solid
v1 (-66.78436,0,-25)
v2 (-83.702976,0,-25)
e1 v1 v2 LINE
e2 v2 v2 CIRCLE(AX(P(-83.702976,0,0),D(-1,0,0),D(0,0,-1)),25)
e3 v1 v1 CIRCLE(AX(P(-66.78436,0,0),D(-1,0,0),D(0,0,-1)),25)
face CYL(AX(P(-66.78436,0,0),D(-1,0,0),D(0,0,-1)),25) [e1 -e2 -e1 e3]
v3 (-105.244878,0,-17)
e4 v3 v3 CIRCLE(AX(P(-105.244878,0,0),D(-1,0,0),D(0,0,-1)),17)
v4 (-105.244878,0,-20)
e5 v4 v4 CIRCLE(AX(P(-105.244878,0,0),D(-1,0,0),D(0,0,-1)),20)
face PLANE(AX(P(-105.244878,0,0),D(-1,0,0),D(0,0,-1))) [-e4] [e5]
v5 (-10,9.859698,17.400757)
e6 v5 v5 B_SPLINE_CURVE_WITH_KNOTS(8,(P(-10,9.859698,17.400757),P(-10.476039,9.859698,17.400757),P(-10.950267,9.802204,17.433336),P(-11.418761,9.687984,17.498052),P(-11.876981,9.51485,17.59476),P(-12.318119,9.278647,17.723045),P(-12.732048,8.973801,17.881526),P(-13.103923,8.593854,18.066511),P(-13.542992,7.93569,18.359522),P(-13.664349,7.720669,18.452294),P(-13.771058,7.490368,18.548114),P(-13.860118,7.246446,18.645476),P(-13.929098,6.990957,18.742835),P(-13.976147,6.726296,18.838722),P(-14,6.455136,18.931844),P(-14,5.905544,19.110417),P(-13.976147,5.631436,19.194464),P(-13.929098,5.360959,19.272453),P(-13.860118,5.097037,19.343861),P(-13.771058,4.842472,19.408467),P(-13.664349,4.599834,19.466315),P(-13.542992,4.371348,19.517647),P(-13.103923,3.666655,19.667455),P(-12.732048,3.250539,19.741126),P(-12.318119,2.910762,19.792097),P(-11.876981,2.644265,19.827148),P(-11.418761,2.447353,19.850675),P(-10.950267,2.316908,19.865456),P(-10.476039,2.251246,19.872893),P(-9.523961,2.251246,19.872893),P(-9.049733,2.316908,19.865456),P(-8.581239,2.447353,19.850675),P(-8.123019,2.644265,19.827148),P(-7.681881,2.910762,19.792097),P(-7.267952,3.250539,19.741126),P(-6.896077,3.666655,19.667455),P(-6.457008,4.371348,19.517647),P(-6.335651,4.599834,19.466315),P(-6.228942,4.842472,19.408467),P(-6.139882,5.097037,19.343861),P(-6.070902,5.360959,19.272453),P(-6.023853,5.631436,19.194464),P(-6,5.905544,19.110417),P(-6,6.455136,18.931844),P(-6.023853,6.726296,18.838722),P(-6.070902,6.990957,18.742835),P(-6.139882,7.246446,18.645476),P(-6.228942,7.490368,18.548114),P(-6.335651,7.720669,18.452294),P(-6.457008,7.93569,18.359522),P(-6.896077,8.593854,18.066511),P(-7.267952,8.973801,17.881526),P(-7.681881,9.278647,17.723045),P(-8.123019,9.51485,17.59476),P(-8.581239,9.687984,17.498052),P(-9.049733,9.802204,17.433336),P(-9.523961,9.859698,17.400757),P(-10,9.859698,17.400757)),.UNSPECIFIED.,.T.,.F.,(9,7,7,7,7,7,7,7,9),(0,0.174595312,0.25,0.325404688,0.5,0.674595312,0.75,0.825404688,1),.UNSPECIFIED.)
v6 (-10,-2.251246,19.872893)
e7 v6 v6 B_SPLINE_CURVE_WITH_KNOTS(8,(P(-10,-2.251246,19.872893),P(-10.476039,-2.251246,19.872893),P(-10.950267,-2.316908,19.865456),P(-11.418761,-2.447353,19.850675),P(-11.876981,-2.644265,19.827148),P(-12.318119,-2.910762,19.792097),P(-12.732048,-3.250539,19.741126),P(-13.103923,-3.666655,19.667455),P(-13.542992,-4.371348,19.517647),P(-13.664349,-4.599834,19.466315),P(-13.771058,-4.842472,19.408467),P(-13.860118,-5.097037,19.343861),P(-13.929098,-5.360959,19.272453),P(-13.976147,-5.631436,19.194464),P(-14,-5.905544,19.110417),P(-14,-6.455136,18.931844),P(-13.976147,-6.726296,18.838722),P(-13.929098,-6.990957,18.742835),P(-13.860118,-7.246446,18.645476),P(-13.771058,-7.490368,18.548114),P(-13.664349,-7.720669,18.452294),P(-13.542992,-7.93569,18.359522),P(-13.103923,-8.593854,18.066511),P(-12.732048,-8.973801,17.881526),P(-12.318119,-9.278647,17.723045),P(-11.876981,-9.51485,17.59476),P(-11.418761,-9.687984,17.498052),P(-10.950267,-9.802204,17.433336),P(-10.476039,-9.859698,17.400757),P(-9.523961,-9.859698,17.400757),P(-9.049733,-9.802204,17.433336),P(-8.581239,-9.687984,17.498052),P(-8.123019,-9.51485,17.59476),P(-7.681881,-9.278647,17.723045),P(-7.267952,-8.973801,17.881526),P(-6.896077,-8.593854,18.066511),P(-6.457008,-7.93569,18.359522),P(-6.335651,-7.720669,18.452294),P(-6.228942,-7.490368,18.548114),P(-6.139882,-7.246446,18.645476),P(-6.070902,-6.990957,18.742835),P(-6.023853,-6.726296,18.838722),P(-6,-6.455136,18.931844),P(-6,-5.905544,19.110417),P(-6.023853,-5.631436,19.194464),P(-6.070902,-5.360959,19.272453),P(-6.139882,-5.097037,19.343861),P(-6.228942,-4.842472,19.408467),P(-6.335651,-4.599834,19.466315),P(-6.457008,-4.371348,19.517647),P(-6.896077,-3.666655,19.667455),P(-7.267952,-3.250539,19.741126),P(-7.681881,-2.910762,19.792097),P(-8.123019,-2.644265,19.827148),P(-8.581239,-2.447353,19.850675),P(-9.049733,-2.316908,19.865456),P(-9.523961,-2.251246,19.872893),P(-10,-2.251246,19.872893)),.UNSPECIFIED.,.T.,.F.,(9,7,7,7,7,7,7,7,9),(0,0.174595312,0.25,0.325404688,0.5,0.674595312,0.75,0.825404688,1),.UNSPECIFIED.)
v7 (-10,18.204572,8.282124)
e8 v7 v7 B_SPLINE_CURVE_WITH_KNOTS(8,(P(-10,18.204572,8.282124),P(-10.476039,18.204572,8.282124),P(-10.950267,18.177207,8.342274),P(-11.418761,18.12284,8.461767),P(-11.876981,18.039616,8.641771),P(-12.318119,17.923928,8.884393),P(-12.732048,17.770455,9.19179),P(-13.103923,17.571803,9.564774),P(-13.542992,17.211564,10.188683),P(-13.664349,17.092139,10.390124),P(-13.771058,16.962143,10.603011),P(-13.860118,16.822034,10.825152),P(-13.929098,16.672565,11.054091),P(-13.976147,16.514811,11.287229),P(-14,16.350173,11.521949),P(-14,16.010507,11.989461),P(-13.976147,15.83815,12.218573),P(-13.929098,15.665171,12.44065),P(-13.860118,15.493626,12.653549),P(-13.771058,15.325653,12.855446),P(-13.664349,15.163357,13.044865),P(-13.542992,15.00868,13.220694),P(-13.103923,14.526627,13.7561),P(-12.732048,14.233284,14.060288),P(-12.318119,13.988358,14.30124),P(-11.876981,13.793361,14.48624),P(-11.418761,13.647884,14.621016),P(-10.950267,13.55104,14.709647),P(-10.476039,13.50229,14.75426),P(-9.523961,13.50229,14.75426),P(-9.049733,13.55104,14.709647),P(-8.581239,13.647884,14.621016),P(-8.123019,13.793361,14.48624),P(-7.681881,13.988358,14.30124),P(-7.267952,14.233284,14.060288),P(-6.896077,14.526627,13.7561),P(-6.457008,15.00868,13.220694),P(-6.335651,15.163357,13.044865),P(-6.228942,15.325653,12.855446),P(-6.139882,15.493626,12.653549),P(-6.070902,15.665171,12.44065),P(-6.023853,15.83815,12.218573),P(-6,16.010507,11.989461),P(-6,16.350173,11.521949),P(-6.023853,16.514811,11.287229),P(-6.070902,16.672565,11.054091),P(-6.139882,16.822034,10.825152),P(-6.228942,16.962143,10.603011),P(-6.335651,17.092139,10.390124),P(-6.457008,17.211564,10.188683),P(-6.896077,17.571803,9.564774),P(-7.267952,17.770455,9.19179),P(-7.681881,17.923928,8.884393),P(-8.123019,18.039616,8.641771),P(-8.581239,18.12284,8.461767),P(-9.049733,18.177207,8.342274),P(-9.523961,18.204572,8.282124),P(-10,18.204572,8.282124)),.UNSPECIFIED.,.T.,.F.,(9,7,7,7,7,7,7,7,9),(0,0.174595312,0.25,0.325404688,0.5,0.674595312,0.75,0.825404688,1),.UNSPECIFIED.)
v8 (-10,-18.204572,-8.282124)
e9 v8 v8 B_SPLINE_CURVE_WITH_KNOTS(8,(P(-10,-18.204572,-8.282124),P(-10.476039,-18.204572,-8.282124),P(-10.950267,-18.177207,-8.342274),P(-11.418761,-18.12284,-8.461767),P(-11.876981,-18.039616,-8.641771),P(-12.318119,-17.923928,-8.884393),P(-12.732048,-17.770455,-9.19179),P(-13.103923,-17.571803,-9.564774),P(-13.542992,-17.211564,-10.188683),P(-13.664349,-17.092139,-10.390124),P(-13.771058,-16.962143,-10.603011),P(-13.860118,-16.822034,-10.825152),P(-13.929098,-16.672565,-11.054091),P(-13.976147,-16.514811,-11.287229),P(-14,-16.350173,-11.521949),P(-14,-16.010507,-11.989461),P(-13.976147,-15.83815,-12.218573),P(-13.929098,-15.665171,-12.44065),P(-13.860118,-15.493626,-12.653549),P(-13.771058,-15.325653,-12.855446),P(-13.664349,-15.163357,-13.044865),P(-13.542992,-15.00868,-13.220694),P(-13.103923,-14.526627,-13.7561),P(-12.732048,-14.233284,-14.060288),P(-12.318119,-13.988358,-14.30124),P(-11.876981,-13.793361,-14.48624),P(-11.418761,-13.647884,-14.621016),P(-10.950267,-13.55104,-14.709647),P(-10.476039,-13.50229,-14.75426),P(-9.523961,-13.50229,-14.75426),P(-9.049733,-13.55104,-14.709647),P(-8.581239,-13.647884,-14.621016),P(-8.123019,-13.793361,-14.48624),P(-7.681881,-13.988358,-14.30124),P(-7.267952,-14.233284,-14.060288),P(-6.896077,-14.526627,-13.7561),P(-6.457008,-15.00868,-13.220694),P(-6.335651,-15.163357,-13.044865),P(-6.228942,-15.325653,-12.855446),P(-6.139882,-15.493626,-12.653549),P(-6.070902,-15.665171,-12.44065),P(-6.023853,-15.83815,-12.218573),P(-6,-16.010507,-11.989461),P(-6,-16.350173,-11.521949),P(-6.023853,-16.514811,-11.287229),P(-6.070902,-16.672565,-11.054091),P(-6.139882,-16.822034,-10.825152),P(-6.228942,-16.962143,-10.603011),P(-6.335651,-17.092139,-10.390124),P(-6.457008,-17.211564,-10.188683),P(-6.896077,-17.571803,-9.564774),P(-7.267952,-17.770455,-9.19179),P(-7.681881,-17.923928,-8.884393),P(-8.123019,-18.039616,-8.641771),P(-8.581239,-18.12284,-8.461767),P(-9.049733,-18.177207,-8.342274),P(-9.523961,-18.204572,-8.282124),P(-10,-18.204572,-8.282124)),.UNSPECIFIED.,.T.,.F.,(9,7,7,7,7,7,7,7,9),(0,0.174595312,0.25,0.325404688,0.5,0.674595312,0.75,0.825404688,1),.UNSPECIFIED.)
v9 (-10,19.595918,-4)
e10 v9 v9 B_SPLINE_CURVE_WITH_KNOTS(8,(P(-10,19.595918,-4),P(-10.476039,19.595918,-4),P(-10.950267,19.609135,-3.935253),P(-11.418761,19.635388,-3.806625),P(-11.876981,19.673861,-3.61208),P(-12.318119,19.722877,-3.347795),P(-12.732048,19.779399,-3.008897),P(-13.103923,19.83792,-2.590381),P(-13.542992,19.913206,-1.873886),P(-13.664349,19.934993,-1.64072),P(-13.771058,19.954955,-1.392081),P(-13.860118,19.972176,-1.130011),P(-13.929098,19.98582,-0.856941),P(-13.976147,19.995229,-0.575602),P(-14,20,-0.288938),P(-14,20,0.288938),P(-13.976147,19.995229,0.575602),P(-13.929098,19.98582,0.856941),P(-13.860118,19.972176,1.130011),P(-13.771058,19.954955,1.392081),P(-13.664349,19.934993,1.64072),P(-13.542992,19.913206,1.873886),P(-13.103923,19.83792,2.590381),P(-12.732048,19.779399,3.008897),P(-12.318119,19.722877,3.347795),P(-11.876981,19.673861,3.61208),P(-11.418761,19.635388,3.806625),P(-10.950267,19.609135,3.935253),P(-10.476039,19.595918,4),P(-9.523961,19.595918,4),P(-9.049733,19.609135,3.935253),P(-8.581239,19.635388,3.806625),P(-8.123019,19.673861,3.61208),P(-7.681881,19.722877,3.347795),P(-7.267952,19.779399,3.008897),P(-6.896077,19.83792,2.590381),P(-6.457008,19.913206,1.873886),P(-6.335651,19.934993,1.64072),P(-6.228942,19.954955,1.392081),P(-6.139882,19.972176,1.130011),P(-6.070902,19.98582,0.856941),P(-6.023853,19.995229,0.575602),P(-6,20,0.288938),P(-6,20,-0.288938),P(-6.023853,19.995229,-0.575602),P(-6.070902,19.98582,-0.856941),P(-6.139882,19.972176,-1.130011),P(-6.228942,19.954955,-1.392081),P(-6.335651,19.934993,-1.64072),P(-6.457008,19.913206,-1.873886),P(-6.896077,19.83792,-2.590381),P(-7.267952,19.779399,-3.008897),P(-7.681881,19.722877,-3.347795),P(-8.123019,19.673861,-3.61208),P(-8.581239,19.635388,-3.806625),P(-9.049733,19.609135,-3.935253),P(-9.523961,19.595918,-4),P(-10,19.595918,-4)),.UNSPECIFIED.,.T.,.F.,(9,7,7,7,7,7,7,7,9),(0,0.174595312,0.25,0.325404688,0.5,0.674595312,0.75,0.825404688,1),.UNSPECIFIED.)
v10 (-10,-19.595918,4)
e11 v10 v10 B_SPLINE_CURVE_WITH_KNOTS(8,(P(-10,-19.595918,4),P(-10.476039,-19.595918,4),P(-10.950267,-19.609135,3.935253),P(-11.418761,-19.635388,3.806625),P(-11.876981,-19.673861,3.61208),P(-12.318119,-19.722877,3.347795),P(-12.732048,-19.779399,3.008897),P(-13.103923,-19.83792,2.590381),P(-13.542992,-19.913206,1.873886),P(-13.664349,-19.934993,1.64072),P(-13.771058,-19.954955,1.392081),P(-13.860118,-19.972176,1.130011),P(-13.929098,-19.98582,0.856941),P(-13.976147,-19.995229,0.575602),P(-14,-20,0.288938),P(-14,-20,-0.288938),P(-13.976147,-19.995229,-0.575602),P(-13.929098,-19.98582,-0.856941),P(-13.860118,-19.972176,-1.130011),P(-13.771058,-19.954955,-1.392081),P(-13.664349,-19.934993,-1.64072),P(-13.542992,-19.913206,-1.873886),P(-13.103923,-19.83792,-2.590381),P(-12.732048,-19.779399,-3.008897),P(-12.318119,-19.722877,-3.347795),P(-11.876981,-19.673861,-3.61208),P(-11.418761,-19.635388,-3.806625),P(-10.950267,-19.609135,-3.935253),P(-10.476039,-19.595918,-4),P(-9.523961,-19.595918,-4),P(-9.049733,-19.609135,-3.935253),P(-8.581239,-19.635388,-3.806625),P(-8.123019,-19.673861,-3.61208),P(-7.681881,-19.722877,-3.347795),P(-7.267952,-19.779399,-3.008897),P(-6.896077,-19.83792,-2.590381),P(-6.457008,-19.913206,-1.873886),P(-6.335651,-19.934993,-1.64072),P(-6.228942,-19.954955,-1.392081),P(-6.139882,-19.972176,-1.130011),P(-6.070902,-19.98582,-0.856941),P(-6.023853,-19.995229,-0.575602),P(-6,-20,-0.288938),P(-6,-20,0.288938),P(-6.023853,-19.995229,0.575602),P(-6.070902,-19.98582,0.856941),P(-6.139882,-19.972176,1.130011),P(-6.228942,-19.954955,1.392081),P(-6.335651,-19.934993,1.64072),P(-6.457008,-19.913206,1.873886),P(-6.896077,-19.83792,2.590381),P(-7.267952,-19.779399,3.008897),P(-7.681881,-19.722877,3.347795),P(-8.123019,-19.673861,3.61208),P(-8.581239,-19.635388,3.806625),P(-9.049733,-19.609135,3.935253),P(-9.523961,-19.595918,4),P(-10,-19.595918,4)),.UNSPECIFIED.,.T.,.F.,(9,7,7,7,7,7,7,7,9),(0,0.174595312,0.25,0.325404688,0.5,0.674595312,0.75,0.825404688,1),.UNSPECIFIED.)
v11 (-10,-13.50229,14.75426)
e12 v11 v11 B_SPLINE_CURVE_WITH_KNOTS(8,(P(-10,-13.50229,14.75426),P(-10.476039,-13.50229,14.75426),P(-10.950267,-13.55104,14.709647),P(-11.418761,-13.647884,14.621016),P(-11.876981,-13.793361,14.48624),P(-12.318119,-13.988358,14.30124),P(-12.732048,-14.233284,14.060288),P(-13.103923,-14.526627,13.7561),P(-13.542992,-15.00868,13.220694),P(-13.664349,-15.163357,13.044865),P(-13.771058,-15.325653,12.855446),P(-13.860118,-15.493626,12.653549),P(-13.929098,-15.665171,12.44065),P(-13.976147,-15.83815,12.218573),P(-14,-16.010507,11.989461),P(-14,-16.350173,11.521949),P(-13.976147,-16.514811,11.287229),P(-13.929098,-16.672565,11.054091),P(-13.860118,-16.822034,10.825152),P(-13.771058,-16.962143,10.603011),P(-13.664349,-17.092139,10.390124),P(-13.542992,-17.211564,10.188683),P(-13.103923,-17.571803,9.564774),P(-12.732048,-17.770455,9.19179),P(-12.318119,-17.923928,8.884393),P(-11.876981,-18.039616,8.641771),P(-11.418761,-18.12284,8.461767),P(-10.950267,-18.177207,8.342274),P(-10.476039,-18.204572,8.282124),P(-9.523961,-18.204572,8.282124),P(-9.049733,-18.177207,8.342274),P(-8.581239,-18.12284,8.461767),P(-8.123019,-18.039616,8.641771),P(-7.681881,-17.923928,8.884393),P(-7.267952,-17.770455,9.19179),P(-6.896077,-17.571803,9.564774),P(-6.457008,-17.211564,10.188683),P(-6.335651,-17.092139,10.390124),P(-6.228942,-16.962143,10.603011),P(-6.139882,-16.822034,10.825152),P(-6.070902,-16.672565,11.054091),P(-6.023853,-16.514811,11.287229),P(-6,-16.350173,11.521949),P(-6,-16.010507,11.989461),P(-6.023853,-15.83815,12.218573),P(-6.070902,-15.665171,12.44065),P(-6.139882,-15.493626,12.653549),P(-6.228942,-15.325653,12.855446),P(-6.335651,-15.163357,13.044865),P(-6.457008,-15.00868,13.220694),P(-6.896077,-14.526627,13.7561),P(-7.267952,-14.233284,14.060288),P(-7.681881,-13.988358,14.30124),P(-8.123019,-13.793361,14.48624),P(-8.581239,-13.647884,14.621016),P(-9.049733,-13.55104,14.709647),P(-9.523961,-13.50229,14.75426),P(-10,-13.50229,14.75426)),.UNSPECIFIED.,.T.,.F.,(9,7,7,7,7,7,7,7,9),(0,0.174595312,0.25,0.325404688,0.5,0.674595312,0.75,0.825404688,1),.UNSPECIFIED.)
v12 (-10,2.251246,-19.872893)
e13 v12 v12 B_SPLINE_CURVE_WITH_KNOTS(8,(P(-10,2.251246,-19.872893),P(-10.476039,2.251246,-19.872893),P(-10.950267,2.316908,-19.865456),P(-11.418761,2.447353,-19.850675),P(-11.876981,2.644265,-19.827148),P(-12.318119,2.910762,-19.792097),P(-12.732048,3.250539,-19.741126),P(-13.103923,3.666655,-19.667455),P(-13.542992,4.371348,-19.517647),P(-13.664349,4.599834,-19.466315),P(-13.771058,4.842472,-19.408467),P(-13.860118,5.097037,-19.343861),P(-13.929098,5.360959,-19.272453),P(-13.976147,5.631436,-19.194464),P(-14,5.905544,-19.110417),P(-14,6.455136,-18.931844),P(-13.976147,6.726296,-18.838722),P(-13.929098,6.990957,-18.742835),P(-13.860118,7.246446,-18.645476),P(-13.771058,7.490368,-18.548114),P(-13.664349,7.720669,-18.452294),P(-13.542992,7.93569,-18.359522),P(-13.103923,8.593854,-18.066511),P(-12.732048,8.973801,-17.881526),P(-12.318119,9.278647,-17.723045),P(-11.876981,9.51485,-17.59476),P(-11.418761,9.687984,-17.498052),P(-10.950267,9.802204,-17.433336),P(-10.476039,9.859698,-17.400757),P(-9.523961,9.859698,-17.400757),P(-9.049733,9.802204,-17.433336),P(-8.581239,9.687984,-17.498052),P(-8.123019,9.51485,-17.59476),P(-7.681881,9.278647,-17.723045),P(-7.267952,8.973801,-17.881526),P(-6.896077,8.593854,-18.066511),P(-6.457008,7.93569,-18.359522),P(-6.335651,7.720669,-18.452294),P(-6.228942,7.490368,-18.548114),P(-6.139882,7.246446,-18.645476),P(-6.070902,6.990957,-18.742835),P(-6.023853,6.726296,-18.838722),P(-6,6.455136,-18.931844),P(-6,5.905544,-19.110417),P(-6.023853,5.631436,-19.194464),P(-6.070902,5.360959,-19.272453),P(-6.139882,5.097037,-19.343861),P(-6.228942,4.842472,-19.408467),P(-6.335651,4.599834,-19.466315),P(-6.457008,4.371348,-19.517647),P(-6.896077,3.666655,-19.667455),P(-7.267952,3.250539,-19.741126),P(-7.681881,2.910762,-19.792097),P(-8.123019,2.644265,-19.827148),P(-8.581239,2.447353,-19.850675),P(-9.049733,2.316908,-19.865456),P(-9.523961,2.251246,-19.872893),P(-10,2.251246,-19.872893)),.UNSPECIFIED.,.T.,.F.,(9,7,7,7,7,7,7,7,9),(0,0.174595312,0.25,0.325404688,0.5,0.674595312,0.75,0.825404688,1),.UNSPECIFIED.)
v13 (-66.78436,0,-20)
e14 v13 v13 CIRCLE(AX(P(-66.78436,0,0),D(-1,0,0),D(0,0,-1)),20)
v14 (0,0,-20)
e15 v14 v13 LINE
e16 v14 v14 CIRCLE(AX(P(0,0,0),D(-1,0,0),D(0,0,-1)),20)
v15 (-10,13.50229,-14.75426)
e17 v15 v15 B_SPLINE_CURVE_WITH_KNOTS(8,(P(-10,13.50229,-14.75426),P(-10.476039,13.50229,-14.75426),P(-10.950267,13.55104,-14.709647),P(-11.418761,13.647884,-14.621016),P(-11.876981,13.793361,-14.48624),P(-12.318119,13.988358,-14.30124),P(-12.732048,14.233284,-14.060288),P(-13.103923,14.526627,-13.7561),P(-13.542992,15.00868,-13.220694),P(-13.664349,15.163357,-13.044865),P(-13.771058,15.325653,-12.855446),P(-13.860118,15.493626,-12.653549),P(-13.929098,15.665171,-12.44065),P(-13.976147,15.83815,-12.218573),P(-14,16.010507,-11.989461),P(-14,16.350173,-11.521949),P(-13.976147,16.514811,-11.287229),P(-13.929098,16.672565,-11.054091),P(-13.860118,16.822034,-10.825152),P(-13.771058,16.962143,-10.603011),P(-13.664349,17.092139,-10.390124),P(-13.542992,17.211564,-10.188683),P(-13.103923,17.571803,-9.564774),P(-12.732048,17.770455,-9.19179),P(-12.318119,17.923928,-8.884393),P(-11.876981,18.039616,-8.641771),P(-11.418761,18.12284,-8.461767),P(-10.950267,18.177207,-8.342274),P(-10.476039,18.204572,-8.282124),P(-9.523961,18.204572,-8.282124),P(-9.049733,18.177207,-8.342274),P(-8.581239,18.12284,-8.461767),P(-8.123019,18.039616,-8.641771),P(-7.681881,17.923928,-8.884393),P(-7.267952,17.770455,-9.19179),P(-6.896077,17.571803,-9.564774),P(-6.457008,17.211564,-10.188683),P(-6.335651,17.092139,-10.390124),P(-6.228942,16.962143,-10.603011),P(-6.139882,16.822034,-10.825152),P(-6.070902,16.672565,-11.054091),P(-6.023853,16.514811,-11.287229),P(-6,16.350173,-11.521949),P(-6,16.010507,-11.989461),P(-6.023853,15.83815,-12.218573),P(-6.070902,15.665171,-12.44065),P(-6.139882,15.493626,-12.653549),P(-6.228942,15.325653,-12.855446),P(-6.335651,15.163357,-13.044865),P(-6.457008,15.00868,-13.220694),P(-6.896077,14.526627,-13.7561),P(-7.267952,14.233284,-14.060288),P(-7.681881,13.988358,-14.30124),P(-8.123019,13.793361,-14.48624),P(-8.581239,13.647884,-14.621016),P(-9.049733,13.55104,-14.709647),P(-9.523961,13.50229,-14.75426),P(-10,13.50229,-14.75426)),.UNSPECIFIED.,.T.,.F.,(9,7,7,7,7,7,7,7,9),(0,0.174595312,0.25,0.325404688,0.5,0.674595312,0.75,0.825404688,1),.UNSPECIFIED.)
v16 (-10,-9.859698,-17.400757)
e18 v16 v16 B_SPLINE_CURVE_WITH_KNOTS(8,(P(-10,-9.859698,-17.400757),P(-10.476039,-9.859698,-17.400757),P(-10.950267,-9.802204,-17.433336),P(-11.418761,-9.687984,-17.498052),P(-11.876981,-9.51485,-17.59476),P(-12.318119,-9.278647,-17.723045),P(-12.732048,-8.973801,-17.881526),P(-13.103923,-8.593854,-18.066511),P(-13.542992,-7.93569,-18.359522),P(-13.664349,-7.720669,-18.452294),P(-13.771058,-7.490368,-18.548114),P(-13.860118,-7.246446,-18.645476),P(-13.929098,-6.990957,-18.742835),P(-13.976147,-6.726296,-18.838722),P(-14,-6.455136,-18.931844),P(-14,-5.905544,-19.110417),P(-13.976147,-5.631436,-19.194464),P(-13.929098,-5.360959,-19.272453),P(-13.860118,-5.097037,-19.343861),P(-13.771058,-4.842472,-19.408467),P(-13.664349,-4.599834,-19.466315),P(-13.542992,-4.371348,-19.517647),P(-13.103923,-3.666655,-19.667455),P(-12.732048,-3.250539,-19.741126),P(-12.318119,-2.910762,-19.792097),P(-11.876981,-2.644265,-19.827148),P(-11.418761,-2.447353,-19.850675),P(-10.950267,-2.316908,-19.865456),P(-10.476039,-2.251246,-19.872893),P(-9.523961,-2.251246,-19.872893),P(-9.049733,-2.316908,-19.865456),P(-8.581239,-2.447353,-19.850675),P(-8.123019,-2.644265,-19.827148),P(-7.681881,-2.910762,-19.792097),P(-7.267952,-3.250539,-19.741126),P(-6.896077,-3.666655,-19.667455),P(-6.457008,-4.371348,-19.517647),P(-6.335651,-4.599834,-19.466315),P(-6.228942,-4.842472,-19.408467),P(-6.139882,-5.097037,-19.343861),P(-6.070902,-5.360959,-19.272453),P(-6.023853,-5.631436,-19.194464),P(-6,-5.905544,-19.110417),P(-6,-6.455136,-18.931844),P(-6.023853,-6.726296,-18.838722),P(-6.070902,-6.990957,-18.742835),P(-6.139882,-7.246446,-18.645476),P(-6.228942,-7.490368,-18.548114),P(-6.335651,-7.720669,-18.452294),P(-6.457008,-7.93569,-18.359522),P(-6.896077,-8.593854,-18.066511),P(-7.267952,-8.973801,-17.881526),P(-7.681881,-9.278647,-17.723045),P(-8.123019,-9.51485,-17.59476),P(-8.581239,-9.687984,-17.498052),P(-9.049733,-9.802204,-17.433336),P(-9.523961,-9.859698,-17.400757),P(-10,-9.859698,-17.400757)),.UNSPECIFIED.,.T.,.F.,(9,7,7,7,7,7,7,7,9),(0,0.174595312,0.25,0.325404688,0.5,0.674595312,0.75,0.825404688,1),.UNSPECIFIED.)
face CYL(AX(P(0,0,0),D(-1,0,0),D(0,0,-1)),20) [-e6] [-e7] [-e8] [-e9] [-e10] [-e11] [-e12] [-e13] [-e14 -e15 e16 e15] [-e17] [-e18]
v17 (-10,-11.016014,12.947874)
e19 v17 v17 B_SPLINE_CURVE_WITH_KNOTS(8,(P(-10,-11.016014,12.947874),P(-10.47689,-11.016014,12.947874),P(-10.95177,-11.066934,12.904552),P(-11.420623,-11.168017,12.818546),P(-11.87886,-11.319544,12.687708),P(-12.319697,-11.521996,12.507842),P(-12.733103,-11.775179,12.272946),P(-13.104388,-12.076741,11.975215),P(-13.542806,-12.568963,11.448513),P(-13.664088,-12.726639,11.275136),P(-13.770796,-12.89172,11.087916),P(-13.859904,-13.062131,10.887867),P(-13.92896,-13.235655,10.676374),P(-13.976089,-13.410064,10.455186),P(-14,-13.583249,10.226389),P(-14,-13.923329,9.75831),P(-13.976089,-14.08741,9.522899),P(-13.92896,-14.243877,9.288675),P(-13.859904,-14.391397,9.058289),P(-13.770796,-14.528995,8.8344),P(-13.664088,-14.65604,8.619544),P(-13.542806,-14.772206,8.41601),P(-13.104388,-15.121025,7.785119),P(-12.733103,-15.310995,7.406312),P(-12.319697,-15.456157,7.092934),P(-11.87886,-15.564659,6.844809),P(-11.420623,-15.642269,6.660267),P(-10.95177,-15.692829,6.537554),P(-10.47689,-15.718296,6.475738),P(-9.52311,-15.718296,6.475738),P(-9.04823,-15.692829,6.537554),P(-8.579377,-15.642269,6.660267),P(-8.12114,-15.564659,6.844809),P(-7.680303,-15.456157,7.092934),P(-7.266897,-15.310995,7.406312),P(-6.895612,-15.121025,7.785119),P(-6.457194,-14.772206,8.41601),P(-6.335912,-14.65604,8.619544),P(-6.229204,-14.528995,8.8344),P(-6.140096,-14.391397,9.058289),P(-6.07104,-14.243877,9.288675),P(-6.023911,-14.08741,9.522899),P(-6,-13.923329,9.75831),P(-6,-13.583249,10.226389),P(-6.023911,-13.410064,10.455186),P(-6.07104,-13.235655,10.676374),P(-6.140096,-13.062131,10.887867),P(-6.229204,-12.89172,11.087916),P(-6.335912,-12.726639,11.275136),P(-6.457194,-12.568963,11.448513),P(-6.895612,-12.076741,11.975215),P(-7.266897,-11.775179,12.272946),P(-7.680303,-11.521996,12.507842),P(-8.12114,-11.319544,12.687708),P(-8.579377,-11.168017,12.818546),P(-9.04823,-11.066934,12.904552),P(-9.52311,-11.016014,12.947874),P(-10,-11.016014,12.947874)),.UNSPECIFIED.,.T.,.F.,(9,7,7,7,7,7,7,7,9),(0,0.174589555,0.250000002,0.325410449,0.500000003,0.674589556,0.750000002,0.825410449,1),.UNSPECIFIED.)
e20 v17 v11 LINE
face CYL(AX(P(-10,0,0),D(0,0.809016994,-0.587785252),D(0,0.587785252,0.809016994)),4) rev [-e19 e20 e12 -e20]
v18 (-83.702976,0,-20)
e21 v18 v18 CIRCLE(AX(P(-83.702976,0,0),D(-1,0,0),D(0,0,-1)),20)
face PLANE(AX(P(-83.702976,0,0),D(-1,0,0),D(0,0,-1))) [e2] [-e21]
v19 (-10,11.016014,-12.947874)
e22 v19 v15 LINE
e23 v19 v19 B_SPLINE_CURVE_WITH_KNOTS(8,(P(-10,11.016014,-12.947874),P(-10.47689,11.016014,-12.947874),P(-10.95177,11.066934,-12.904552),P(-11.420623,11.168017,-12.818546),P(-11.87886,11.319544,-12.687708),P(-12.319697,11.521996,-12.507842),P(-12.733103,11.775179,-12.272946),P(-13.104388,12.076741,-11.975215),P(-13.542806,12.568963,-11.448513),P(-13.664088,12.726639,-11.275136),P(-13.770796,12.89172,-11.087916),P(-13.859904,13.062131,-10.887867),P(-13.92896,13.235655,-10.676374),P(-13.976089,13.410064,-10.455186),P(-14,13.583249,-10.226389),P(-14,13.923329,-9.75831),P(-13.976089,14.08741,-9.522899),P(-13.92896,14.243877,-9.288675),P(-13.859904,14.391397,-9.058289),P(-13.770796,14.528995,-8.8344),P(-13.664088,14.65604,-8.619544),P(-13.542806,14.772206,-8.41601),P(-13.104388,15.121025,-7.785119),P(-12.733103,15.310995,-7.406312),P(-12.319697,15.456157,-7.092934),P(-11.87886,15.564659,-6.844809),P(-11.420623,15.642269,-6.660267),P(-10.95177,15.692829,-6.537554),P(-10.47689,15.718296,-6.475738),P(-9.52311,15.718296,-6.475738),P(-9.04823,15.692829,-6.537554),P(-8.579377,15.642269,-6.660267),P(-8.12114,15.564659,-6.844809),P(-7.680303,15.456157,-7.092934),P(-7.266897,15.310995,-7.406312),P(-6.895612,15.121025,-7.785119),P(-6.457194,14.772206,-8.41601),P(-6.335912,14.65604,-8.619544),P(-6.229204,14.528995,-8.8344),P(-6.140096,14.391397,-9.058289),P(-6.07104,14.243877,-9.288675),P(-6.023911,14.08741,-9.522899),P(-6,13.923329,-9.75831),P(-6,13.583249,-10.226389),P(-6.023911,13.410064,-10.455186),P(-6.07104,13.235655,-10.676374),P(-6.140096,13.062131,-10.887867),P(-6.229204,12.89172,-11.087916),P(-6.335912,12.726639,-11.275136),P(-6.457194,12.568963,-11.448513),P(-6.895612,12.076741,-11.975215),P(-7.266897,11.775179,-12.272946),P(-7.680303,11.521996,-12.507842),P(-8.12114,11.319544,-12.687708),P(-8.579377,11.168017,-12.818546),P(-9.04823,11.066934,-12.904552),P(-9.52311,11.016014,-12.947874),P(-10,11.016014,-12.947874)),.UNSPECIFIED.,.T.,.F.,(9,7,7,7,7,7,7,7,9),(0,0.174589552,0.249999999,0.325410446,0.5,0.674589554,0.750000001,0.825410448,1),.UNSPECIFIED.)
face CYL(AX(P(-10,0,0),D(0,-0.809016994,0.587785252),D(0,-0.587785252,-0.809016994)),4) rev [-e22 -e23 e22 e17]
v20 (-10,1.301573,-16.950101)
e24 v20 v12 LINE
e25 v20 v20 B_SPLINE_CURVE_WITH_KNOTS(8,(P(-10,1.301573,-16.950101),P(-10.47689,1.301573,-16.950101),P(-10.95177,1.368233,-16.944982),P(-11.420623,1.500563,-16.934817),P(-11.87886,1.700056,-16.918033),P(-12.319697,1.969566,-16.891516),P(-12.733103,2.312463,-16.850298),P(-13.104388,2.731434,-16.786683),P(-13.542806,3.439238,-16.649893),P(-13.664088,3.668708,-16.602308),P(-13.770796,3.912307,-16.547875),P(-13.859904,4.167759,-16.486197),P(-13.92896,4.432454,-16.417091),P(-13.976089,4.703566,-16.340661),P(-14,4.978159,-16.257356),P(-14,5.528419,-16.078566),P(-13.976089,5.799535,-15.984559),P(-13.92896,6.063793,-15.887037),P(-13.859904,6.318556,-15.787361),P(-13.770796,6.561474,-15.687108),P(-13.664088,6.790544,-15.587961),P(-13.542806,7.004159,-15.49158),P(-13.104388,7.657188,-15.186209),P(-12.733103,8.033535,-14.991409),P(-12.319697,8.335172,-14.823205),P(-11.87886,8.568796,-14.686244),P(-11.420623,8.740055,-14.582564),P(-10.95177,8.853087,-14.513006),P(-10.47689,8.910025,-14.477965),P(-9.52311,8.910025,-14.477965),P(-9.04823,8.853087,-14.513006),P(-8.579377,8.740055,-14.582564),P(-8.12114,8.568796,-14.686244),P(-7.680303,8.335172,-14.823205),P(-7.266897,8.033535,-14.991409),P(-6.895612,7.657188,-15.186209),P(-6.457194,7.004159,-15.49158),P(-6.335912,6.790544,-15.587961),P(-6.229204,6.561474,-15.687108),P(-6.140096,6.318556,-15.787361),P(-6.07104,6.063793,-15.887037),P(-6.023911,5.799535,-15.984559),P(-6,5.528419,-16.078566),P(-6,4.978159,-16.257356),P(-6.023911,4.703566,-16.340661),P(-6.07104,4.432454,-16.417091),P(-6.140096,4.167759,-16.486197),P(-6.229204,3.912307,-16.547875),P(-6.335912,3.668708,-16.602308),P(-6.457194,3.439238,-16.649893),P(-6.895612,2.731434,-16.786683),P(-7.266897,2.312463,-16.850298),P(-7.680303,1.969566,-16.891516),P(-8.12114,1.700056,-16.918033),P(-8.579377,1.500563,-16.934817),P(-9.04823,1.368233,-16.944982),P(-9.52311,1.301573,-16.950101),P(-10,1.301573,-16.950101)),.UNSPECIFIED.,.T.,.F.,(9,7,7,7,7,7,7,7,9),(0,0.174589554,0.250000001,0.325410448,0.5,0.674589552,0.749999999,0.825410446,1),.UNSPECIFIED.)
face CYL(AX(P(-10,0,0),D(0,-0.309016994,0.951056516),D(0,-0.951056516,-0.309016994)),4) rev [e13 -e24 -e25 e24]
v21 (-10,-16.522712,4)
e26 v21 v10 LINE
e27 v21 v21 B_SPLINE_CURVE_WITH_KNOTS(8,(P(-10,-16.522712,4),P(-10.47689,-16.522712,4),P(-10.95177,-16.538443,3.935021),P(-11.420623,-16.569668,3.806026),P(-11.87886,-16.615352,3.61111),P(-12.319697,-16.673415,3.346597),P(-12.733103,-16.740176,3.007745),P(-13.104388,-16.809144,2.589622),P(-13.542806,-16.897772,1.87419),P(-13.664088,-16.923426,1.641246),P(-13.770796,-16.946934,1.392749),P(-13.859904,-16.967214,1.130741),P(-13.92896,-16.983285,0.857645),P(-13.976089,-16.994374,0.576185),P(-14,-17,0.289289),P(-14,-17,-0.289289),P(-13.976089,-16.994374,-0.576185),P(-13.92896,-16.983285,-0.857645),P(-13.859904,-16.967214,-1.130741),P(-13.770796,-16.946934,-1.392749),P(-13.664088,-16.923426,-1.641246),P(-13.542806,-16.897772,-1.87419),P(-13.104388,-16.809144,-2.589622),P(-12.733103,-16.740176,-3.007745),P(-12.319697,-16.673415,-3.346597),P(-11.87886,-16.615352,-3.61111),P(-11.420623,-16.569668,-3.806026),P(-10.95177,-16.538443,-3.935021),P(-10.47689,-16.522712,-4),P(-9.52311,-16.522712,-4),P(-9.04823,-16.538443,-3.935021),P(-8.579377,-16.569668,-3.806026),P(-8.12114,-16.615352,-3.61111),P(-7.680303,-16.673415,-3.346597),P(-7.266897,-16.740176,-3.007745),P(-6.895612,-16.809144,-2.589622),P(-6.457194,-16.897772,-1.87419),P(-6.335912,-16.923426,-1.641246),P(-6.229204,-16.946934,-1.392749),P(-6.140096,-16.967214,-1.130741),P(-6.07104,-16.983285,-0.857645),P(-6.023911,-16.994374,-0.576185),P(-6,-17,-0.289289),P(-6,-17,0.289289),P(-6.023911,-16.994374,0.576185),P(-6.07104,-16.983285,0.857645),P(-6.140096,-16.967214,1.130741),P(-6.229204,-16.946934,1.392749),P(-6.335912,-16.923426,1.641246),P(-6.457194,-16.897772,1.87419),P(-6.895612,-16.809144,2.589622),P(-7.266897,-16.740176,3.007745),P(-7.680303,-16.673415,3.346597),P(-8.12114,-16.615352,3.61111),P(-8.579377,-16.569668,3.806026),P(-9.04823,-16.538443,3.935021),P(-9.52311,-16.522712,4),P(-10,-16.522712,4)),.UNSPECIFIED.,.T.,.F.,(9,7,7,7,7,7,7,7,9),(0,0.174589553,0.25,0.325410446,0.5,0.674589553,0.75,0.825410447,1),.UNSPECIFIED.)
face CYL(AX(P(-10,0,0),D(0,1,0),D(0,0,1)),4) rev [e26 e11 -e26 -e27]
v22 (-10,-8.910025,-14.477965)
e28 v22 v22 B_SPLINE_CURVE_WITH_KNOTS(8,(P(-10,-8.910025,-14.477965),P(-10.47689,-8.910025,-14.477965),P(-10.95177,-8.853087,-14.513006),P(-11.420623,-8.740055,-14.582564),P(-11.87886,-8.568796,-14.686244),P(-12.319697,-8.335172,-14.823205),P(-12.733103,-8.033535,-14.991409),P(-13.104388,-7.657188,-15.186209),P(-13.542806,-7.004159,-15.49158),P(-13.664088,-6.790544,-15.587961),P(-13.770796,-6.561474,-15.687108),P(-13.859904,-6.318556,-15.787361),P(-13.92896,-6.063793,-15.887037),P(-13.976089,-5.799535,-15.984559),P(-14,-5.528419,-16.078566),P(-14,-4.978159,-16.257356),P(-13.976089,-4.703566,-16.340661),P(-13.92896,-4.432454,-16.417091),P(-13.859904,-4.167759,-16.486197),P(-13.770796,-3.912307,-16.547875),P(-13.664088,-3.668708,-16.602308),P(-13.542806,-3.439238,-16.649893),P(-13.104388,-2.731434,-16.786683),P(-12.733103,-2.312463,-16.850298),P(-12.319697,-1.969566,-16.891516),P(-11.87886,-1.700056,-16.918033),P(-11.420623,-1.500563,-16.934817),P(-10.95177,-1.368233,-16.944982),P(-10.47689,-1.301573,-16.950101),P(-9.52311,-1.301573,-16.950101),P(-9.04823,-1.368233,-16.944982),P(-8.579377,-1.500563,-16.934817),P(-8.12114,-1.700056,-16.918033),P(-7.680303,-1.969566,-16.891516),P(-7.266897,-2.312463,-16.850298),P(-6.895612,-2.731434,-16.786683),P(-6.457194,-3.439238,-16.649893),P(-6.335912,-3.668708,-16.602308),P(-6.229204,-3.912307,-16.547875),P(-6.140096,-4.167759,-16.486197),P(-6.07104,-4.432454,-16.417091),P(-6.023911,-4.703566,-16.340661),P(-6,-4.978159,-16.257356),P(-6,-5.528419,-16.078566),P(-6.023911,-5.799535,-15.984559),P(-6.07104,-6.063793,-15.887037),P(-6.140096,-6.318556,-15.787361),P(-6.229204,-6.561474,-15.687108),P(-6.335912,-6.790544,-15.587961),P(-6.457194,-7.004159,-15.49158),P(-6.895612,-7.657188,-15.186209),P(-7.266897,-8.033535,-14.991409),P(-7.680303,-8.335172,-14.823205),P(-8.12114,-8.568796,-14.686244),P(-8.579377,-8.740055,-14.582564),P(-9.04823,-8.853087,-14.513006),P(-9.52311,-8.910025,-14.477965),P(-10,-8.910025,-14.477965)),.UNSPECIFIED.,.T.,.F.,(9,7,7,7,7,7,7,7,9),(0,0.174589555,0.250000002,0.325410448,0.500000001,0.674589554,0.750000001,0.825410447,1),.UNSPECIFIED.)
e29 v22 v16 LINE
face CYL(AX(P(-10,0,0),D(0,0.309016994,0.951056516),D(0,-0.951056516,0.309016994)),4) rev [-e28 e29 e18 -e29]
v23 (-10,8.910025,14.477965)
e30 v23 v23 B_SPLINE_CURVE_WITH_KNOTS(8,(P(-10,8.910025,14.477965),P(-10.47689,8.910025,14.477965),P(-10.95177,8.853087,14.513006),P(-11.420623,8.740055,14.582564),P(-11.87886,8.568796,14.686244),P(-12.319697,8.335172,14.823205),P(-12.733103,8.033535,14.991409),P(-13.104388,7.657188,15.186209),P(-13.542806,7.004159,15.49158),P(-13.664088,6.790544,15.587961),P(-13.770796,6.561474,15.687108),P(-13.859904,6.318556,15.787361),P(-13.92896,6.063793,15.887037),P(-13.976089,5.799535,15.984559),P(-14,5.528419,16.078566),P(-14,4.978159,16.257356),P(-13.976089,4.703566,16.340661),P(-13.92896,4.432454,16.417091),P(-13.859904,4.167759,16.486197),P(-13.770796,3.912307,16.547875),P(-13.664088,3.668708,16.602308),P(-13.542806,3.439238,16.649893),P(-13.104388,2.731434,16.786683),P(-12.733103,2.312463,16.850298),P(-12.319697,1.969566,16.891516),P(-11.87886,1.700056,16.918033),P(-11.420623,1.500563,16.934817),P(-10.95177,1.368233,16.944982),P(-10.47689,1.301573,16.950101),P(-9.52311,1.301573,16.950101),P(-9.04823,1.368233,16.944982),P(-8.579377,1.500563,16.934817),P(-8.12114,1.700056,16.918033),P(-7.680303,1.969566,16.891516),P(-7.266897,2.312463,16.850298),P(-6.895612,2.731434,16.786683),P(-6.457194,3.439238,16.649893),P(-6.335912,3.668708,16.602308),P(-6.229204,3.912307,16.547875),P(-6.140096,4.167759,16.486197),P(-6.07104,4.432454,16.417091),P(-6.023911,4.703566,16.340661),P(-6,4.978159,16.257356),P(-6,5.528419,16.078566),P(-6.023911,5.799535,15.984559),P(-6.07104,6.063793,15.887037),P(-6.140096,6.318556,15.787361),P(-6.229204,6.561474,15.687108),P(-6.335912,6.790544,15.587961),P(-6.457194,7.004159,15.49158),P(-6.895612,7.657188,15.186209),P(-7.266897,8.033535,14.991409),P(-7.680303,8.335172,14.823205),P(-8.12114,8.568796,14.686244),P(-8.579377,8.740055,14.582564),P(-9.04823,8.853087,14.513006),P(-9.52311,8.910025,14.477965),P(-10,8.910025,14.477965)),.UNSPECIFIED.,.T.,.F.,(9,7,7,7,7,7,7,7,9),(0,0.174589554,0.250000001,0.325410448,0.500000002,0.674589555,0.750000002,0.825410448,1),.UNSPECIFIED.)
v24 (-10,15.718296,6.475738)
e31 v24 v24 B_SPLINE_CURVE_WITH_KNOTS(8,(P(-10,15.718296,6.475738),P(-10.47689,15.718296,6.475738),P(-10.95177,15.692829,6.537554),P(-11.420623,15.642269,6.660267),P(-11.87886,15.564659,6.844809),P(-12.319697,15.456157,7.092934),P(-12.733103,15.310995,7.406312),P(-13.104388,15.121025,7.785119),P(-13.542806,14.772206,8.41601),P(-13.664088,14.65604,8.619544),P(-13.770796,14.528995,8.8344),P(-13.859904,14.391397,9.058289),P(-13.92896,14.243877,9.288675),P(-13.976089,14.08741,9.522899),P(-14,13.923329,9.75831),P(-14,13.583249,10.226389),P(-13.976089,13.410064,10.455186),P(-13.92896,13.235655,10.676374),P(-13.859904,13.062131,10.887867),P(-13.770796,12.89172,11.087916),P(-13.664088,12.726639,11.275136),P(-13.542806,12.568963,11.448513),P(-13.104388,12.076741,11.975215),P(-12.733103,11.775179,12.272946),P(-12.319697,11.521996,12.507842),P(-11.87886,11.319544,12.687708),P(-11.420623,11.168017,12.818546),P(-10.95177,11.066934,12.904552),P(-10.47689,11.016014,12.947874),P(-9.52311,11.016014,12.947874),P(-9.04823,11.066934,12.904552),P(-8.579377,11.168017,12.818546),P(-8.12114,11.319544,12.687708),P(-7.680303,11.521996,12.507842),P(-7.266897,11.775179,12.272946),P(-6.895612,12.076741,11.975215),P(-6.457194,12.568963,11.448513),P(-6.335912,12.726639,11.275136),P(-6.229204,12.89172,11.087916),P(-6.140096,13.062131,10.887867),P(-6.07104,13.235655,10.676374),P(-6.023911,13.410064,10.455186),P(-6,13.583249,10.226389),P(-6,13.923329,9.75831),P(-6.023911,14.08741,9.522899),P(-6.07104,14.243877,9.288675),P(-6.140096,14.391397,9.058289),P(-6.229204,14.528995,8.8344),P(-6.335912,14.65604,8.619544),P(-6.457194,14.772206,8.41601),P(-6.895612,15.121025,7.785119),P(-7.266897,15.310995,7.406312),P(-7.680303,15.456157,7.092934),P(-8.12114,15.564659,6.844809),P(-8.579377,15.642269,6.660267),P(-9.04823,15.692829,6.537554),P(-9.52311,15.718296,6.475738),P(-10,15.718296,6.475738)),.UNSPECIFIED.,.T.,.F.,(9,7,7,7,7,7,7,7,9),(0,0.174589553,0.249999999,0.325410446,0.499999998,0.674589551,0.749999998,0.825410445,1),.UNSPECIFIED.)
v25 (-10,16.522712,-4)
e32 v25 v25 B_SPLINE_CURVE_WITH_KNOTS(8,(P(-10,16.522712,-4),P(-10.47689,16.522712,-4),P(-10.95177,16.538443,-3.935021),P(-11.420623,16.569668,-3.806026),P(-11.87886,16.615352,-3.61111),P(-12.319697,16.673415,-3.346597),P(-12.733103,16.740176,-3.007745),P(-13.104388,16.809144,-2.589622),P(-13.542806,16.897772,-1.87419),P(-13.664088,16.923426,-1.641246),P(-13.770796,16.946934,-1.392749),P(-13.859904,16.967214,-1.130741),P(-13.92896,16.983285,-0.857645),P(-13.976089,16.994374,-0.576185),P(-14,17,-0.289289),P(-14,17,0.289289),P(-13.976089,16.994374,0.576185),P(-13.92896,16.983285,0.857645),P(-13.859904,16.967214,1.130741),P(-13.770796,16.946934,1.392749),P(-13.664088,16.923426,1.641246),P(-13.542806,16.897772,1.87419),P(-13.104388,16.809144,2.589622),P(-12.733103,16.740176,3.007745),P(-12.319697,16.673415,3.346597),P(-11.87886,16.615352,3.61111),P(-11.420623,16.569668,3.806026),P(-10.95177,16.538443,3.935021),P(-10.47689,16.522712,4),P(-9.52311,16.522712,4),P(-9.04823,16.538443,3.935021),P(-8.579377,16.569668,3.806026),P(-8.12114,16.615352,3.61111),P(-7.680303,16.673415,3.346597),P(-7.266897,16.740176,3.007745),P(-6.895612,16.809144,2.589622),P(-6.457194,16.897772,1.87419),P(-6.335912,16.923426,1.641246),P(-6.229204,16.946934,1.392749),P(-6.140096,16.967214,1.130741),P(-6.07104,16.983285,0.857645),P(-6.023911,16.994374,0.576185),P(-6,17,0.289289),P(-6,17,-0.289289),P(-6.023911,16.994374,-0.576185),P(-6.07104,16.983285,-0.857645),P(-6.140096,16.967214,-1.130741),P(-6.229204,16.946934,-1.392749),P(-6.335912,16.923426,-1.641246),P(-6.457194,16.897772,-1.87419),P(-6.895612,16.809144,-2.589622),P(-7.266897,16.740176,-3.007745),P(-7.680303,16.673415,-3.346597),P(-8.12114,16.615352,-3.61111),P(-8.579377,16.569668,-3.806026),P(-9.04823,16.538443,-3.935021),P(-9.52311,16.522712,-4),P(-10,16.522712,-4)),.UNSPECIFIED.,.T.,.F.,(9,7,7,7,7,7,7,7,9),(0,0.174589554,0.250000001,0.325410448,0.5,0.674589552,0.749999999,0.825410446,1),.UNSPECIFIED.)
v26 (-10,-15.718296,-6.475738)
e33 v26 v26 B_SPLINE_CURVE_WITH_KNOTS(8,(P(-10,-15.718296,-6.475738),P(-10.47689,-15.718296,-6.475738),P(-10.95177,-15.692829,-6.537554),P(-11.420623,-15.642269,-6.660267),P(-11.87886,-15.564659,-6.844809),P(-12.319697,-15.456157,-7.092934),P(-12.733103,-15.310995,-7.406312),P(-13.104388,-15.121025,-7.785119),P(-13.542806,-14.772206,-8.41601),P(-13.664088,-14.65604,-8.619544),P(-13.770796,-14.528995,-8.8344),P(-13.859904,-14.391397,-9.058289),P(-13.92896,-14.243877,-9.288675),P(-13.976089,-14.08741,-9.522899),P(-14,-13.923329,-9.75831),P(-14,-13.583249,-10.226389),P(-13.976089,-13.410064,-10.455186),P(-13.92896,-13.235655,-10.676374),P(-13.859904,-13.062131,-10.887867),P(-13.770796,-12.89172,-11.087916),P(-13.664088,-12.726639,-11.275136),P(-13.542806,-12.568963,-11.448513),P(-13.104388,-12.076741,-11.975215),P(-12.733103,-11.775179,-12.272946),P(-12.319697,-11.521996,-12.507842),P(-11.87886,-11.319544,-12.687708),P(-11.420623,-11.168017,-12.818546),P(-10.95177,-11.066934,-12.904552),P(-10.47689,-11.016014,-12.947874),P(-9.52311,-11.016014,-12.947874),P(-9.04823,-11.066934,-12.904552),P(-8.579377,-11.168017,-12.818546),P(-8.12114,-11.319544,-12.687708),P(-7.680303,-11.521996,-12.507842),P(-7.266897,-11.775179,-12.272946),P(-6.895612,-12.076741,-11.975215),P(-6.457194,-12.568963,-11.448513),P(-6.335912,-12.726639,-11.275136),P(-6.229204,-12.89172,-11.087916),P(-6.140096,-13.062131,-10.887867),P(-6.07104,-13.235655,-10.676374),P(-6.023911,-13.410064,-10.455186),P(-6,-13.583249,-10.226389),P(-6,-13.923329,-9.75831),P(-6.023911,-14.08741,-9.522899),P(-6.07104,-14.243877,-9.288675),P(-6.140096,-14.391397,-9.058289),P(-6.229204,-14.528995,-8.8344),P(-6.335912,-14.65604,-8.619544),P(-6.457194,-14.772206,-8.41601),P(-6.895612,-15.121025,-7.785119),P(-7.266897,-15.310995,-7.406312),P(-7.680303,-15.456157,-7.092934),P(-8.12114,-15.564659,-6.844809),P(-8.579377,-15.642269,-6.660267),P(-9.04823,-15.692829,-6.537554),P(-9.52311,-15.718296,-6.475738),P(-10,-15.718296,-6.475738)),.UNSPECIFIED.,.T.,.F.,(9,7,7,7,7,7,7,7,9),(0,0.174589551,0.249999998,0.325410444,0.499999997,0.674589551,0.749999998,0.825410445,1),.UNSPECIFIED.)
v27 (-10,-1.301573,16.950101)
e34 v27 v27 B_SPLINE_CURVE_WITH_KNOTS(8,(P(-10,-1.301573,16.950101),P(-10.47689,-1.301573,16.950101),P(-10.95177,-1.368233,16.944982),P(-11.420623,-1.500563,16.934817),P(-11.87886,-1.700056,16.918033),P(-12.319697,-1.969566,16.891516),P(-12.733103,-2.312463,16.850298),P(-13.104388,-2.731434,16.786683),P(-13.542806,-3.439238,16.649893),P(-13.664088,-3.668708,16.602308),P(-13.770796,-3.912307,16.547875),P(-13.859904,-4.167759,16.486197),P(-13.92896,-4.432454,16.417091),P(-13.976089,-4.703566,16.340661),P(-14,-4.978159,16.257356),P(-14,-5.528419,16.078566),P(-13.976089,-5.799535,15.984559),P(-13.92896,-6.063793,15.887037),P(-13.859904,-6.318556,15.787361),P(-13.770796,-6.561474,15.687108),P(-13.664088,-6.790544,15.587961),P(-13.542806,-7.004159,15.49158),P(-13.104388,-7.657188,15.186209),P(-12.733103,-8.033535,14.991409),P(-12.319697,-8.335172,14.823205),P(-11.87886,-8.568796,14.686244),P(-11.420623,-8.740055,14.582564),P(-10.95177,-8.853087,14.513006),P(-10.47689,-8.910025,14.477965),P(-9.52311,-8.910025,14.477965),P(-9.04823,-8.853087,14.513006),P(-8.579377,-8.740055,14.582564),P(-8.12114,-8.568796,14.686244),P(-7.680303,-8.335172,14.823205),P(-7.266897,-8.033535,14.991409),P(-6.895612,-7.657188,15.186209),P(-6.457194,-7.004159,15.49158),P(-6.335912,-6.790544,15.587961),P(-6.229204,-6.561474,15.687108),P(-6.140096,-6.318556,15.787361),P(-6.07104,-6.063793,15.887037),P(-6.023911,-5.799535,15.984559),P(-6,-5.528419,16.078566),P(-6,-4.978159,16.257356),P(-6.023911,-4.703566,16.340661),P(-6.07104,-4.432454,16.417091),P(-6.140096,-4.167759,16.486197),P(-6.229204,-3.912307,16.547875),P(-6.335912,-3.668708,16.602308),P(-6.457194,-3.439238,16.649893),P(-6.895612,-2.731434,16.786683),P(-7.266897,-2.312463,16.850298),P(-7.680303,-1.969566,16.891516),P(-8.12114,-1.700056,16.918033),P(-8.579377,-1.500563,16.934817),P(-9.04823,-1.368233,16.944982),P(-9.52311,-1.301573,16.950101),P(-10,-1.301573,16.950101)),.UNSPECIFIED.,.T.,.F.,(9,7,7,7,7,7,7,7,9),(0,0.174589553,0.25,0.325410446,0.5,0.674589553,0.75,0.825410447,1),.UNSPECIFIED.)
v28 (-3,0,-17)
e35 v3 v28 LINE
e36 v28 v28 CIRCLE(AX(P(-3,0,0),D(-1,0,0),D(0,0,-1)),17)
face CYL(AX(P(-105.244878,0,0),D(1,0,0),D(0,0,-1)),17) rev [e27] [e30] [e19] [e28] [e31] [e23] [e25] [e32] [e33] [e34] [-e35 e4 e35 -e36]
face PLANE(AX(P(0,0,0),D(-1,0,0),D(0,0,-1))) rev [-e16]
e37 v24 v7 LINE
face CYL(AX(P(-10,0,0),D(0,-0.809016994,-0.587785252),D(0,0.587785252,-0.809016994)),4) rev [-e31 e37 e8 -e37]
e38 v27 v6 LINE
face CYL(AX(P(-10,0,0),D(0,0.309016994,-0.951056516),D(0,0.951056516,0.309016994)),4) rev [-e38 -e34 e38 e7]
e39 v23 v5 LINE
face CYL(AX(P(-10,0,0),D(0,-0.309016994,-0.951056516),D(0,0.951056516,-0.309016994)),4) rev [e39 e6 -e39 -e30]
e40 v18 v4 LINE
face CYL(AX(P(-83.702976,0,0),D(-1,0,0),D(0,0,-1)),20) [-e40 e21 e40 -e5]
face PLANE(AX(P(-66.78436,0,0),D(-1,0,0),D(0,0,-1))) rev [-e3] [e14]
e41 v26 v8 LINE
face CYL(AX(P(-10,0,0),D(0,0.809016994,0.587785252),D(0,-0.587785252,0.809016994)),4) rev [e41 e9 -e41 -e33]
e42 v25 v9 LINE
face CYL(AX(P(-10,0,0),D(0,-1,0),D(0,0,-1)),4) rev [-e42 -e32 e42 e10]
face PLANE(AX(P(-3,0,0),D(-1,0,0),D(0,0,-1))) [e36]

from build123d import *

# Parameters (mm, degrees)
CUT_EXTRUDE1_REACH      = 113.025
CUT_EXTRUDE1_END_RADIUS = 20
SKETCH2_R               = 4
CIRPATTERN1_COUNT       = 10


with BuildPart() as part:
    # Sketch1 → Revolve1 (revolve)
    with BuildSketch(Plane.XY, mode=Mode.PRIVATE) as revolve1_sk:
        Polygon((0, 0), (0, 20), (-66.784359743, 20), (-66.784359743, 25), (-83.702975636, 25), (-83.702975636, 20), (-105.24487755, 20), (-105.24487755, 17), (-3, 17), (-3, 0), align=None)
    revolve(revolve1_sk.sketch.rotate(Axis((27.57498519, 0, 0), (-1, 0, 0)), 90), axis=Axis((27.57498519, 0, 0), (-1, 0, 0)))

    # Cut-Extrude1: up to this cylinder (the profile starts inside it)
    cut_extrude1_end = Plane(origin=(-10, 0, 0), z_dir=(1, 0, 0)) * Cylinder(CUT_EXTRUDE1_END_RADIUS, 267.05, mode=Mode.PRIVATE)
    # Sketch2 → Cut-Extrude1 (cut, up to the surface)
    with BuildSketch(Plane(origin=(0, 0, 0), x_dir=(1, 0, 0), z_dir=(0, 1, 0)), mode=Mode.PRIVATE) as cut_extrude1_sk1:
        with Locations(Location((-10, 0, 0), (0, 0, 90))):
            Circle(SKETCH2_R)
    cut_extrude1_tool1 = extrude(cut_extrude1_sk1.sketch, amount=CUT_EXTRUDE1_REACH, mode=Mode.PRIVATE) & cut_extrude1_end
    cut_extrude1 = cut_extrude1_tool1.solids().sort_by_distance((-10, 0, 0))[0]
    add(cut_extrude1, mode=Mode.SUBTRACT)

    # CirPattern1: Cut-Extrude1 ×10 about axis
    cirpattern1_axis = Axis((27.57498519, 0, 0), (-1, 0, 0))
    for i in range(1, CIRPATTERN1_COUNT):
        add(cut_extrude1.rotate(cirpattern1_axis, i * 360 / CIRPATTERN1_COUNT), mode=Mode.SUBTRACT)


solid = part.part
